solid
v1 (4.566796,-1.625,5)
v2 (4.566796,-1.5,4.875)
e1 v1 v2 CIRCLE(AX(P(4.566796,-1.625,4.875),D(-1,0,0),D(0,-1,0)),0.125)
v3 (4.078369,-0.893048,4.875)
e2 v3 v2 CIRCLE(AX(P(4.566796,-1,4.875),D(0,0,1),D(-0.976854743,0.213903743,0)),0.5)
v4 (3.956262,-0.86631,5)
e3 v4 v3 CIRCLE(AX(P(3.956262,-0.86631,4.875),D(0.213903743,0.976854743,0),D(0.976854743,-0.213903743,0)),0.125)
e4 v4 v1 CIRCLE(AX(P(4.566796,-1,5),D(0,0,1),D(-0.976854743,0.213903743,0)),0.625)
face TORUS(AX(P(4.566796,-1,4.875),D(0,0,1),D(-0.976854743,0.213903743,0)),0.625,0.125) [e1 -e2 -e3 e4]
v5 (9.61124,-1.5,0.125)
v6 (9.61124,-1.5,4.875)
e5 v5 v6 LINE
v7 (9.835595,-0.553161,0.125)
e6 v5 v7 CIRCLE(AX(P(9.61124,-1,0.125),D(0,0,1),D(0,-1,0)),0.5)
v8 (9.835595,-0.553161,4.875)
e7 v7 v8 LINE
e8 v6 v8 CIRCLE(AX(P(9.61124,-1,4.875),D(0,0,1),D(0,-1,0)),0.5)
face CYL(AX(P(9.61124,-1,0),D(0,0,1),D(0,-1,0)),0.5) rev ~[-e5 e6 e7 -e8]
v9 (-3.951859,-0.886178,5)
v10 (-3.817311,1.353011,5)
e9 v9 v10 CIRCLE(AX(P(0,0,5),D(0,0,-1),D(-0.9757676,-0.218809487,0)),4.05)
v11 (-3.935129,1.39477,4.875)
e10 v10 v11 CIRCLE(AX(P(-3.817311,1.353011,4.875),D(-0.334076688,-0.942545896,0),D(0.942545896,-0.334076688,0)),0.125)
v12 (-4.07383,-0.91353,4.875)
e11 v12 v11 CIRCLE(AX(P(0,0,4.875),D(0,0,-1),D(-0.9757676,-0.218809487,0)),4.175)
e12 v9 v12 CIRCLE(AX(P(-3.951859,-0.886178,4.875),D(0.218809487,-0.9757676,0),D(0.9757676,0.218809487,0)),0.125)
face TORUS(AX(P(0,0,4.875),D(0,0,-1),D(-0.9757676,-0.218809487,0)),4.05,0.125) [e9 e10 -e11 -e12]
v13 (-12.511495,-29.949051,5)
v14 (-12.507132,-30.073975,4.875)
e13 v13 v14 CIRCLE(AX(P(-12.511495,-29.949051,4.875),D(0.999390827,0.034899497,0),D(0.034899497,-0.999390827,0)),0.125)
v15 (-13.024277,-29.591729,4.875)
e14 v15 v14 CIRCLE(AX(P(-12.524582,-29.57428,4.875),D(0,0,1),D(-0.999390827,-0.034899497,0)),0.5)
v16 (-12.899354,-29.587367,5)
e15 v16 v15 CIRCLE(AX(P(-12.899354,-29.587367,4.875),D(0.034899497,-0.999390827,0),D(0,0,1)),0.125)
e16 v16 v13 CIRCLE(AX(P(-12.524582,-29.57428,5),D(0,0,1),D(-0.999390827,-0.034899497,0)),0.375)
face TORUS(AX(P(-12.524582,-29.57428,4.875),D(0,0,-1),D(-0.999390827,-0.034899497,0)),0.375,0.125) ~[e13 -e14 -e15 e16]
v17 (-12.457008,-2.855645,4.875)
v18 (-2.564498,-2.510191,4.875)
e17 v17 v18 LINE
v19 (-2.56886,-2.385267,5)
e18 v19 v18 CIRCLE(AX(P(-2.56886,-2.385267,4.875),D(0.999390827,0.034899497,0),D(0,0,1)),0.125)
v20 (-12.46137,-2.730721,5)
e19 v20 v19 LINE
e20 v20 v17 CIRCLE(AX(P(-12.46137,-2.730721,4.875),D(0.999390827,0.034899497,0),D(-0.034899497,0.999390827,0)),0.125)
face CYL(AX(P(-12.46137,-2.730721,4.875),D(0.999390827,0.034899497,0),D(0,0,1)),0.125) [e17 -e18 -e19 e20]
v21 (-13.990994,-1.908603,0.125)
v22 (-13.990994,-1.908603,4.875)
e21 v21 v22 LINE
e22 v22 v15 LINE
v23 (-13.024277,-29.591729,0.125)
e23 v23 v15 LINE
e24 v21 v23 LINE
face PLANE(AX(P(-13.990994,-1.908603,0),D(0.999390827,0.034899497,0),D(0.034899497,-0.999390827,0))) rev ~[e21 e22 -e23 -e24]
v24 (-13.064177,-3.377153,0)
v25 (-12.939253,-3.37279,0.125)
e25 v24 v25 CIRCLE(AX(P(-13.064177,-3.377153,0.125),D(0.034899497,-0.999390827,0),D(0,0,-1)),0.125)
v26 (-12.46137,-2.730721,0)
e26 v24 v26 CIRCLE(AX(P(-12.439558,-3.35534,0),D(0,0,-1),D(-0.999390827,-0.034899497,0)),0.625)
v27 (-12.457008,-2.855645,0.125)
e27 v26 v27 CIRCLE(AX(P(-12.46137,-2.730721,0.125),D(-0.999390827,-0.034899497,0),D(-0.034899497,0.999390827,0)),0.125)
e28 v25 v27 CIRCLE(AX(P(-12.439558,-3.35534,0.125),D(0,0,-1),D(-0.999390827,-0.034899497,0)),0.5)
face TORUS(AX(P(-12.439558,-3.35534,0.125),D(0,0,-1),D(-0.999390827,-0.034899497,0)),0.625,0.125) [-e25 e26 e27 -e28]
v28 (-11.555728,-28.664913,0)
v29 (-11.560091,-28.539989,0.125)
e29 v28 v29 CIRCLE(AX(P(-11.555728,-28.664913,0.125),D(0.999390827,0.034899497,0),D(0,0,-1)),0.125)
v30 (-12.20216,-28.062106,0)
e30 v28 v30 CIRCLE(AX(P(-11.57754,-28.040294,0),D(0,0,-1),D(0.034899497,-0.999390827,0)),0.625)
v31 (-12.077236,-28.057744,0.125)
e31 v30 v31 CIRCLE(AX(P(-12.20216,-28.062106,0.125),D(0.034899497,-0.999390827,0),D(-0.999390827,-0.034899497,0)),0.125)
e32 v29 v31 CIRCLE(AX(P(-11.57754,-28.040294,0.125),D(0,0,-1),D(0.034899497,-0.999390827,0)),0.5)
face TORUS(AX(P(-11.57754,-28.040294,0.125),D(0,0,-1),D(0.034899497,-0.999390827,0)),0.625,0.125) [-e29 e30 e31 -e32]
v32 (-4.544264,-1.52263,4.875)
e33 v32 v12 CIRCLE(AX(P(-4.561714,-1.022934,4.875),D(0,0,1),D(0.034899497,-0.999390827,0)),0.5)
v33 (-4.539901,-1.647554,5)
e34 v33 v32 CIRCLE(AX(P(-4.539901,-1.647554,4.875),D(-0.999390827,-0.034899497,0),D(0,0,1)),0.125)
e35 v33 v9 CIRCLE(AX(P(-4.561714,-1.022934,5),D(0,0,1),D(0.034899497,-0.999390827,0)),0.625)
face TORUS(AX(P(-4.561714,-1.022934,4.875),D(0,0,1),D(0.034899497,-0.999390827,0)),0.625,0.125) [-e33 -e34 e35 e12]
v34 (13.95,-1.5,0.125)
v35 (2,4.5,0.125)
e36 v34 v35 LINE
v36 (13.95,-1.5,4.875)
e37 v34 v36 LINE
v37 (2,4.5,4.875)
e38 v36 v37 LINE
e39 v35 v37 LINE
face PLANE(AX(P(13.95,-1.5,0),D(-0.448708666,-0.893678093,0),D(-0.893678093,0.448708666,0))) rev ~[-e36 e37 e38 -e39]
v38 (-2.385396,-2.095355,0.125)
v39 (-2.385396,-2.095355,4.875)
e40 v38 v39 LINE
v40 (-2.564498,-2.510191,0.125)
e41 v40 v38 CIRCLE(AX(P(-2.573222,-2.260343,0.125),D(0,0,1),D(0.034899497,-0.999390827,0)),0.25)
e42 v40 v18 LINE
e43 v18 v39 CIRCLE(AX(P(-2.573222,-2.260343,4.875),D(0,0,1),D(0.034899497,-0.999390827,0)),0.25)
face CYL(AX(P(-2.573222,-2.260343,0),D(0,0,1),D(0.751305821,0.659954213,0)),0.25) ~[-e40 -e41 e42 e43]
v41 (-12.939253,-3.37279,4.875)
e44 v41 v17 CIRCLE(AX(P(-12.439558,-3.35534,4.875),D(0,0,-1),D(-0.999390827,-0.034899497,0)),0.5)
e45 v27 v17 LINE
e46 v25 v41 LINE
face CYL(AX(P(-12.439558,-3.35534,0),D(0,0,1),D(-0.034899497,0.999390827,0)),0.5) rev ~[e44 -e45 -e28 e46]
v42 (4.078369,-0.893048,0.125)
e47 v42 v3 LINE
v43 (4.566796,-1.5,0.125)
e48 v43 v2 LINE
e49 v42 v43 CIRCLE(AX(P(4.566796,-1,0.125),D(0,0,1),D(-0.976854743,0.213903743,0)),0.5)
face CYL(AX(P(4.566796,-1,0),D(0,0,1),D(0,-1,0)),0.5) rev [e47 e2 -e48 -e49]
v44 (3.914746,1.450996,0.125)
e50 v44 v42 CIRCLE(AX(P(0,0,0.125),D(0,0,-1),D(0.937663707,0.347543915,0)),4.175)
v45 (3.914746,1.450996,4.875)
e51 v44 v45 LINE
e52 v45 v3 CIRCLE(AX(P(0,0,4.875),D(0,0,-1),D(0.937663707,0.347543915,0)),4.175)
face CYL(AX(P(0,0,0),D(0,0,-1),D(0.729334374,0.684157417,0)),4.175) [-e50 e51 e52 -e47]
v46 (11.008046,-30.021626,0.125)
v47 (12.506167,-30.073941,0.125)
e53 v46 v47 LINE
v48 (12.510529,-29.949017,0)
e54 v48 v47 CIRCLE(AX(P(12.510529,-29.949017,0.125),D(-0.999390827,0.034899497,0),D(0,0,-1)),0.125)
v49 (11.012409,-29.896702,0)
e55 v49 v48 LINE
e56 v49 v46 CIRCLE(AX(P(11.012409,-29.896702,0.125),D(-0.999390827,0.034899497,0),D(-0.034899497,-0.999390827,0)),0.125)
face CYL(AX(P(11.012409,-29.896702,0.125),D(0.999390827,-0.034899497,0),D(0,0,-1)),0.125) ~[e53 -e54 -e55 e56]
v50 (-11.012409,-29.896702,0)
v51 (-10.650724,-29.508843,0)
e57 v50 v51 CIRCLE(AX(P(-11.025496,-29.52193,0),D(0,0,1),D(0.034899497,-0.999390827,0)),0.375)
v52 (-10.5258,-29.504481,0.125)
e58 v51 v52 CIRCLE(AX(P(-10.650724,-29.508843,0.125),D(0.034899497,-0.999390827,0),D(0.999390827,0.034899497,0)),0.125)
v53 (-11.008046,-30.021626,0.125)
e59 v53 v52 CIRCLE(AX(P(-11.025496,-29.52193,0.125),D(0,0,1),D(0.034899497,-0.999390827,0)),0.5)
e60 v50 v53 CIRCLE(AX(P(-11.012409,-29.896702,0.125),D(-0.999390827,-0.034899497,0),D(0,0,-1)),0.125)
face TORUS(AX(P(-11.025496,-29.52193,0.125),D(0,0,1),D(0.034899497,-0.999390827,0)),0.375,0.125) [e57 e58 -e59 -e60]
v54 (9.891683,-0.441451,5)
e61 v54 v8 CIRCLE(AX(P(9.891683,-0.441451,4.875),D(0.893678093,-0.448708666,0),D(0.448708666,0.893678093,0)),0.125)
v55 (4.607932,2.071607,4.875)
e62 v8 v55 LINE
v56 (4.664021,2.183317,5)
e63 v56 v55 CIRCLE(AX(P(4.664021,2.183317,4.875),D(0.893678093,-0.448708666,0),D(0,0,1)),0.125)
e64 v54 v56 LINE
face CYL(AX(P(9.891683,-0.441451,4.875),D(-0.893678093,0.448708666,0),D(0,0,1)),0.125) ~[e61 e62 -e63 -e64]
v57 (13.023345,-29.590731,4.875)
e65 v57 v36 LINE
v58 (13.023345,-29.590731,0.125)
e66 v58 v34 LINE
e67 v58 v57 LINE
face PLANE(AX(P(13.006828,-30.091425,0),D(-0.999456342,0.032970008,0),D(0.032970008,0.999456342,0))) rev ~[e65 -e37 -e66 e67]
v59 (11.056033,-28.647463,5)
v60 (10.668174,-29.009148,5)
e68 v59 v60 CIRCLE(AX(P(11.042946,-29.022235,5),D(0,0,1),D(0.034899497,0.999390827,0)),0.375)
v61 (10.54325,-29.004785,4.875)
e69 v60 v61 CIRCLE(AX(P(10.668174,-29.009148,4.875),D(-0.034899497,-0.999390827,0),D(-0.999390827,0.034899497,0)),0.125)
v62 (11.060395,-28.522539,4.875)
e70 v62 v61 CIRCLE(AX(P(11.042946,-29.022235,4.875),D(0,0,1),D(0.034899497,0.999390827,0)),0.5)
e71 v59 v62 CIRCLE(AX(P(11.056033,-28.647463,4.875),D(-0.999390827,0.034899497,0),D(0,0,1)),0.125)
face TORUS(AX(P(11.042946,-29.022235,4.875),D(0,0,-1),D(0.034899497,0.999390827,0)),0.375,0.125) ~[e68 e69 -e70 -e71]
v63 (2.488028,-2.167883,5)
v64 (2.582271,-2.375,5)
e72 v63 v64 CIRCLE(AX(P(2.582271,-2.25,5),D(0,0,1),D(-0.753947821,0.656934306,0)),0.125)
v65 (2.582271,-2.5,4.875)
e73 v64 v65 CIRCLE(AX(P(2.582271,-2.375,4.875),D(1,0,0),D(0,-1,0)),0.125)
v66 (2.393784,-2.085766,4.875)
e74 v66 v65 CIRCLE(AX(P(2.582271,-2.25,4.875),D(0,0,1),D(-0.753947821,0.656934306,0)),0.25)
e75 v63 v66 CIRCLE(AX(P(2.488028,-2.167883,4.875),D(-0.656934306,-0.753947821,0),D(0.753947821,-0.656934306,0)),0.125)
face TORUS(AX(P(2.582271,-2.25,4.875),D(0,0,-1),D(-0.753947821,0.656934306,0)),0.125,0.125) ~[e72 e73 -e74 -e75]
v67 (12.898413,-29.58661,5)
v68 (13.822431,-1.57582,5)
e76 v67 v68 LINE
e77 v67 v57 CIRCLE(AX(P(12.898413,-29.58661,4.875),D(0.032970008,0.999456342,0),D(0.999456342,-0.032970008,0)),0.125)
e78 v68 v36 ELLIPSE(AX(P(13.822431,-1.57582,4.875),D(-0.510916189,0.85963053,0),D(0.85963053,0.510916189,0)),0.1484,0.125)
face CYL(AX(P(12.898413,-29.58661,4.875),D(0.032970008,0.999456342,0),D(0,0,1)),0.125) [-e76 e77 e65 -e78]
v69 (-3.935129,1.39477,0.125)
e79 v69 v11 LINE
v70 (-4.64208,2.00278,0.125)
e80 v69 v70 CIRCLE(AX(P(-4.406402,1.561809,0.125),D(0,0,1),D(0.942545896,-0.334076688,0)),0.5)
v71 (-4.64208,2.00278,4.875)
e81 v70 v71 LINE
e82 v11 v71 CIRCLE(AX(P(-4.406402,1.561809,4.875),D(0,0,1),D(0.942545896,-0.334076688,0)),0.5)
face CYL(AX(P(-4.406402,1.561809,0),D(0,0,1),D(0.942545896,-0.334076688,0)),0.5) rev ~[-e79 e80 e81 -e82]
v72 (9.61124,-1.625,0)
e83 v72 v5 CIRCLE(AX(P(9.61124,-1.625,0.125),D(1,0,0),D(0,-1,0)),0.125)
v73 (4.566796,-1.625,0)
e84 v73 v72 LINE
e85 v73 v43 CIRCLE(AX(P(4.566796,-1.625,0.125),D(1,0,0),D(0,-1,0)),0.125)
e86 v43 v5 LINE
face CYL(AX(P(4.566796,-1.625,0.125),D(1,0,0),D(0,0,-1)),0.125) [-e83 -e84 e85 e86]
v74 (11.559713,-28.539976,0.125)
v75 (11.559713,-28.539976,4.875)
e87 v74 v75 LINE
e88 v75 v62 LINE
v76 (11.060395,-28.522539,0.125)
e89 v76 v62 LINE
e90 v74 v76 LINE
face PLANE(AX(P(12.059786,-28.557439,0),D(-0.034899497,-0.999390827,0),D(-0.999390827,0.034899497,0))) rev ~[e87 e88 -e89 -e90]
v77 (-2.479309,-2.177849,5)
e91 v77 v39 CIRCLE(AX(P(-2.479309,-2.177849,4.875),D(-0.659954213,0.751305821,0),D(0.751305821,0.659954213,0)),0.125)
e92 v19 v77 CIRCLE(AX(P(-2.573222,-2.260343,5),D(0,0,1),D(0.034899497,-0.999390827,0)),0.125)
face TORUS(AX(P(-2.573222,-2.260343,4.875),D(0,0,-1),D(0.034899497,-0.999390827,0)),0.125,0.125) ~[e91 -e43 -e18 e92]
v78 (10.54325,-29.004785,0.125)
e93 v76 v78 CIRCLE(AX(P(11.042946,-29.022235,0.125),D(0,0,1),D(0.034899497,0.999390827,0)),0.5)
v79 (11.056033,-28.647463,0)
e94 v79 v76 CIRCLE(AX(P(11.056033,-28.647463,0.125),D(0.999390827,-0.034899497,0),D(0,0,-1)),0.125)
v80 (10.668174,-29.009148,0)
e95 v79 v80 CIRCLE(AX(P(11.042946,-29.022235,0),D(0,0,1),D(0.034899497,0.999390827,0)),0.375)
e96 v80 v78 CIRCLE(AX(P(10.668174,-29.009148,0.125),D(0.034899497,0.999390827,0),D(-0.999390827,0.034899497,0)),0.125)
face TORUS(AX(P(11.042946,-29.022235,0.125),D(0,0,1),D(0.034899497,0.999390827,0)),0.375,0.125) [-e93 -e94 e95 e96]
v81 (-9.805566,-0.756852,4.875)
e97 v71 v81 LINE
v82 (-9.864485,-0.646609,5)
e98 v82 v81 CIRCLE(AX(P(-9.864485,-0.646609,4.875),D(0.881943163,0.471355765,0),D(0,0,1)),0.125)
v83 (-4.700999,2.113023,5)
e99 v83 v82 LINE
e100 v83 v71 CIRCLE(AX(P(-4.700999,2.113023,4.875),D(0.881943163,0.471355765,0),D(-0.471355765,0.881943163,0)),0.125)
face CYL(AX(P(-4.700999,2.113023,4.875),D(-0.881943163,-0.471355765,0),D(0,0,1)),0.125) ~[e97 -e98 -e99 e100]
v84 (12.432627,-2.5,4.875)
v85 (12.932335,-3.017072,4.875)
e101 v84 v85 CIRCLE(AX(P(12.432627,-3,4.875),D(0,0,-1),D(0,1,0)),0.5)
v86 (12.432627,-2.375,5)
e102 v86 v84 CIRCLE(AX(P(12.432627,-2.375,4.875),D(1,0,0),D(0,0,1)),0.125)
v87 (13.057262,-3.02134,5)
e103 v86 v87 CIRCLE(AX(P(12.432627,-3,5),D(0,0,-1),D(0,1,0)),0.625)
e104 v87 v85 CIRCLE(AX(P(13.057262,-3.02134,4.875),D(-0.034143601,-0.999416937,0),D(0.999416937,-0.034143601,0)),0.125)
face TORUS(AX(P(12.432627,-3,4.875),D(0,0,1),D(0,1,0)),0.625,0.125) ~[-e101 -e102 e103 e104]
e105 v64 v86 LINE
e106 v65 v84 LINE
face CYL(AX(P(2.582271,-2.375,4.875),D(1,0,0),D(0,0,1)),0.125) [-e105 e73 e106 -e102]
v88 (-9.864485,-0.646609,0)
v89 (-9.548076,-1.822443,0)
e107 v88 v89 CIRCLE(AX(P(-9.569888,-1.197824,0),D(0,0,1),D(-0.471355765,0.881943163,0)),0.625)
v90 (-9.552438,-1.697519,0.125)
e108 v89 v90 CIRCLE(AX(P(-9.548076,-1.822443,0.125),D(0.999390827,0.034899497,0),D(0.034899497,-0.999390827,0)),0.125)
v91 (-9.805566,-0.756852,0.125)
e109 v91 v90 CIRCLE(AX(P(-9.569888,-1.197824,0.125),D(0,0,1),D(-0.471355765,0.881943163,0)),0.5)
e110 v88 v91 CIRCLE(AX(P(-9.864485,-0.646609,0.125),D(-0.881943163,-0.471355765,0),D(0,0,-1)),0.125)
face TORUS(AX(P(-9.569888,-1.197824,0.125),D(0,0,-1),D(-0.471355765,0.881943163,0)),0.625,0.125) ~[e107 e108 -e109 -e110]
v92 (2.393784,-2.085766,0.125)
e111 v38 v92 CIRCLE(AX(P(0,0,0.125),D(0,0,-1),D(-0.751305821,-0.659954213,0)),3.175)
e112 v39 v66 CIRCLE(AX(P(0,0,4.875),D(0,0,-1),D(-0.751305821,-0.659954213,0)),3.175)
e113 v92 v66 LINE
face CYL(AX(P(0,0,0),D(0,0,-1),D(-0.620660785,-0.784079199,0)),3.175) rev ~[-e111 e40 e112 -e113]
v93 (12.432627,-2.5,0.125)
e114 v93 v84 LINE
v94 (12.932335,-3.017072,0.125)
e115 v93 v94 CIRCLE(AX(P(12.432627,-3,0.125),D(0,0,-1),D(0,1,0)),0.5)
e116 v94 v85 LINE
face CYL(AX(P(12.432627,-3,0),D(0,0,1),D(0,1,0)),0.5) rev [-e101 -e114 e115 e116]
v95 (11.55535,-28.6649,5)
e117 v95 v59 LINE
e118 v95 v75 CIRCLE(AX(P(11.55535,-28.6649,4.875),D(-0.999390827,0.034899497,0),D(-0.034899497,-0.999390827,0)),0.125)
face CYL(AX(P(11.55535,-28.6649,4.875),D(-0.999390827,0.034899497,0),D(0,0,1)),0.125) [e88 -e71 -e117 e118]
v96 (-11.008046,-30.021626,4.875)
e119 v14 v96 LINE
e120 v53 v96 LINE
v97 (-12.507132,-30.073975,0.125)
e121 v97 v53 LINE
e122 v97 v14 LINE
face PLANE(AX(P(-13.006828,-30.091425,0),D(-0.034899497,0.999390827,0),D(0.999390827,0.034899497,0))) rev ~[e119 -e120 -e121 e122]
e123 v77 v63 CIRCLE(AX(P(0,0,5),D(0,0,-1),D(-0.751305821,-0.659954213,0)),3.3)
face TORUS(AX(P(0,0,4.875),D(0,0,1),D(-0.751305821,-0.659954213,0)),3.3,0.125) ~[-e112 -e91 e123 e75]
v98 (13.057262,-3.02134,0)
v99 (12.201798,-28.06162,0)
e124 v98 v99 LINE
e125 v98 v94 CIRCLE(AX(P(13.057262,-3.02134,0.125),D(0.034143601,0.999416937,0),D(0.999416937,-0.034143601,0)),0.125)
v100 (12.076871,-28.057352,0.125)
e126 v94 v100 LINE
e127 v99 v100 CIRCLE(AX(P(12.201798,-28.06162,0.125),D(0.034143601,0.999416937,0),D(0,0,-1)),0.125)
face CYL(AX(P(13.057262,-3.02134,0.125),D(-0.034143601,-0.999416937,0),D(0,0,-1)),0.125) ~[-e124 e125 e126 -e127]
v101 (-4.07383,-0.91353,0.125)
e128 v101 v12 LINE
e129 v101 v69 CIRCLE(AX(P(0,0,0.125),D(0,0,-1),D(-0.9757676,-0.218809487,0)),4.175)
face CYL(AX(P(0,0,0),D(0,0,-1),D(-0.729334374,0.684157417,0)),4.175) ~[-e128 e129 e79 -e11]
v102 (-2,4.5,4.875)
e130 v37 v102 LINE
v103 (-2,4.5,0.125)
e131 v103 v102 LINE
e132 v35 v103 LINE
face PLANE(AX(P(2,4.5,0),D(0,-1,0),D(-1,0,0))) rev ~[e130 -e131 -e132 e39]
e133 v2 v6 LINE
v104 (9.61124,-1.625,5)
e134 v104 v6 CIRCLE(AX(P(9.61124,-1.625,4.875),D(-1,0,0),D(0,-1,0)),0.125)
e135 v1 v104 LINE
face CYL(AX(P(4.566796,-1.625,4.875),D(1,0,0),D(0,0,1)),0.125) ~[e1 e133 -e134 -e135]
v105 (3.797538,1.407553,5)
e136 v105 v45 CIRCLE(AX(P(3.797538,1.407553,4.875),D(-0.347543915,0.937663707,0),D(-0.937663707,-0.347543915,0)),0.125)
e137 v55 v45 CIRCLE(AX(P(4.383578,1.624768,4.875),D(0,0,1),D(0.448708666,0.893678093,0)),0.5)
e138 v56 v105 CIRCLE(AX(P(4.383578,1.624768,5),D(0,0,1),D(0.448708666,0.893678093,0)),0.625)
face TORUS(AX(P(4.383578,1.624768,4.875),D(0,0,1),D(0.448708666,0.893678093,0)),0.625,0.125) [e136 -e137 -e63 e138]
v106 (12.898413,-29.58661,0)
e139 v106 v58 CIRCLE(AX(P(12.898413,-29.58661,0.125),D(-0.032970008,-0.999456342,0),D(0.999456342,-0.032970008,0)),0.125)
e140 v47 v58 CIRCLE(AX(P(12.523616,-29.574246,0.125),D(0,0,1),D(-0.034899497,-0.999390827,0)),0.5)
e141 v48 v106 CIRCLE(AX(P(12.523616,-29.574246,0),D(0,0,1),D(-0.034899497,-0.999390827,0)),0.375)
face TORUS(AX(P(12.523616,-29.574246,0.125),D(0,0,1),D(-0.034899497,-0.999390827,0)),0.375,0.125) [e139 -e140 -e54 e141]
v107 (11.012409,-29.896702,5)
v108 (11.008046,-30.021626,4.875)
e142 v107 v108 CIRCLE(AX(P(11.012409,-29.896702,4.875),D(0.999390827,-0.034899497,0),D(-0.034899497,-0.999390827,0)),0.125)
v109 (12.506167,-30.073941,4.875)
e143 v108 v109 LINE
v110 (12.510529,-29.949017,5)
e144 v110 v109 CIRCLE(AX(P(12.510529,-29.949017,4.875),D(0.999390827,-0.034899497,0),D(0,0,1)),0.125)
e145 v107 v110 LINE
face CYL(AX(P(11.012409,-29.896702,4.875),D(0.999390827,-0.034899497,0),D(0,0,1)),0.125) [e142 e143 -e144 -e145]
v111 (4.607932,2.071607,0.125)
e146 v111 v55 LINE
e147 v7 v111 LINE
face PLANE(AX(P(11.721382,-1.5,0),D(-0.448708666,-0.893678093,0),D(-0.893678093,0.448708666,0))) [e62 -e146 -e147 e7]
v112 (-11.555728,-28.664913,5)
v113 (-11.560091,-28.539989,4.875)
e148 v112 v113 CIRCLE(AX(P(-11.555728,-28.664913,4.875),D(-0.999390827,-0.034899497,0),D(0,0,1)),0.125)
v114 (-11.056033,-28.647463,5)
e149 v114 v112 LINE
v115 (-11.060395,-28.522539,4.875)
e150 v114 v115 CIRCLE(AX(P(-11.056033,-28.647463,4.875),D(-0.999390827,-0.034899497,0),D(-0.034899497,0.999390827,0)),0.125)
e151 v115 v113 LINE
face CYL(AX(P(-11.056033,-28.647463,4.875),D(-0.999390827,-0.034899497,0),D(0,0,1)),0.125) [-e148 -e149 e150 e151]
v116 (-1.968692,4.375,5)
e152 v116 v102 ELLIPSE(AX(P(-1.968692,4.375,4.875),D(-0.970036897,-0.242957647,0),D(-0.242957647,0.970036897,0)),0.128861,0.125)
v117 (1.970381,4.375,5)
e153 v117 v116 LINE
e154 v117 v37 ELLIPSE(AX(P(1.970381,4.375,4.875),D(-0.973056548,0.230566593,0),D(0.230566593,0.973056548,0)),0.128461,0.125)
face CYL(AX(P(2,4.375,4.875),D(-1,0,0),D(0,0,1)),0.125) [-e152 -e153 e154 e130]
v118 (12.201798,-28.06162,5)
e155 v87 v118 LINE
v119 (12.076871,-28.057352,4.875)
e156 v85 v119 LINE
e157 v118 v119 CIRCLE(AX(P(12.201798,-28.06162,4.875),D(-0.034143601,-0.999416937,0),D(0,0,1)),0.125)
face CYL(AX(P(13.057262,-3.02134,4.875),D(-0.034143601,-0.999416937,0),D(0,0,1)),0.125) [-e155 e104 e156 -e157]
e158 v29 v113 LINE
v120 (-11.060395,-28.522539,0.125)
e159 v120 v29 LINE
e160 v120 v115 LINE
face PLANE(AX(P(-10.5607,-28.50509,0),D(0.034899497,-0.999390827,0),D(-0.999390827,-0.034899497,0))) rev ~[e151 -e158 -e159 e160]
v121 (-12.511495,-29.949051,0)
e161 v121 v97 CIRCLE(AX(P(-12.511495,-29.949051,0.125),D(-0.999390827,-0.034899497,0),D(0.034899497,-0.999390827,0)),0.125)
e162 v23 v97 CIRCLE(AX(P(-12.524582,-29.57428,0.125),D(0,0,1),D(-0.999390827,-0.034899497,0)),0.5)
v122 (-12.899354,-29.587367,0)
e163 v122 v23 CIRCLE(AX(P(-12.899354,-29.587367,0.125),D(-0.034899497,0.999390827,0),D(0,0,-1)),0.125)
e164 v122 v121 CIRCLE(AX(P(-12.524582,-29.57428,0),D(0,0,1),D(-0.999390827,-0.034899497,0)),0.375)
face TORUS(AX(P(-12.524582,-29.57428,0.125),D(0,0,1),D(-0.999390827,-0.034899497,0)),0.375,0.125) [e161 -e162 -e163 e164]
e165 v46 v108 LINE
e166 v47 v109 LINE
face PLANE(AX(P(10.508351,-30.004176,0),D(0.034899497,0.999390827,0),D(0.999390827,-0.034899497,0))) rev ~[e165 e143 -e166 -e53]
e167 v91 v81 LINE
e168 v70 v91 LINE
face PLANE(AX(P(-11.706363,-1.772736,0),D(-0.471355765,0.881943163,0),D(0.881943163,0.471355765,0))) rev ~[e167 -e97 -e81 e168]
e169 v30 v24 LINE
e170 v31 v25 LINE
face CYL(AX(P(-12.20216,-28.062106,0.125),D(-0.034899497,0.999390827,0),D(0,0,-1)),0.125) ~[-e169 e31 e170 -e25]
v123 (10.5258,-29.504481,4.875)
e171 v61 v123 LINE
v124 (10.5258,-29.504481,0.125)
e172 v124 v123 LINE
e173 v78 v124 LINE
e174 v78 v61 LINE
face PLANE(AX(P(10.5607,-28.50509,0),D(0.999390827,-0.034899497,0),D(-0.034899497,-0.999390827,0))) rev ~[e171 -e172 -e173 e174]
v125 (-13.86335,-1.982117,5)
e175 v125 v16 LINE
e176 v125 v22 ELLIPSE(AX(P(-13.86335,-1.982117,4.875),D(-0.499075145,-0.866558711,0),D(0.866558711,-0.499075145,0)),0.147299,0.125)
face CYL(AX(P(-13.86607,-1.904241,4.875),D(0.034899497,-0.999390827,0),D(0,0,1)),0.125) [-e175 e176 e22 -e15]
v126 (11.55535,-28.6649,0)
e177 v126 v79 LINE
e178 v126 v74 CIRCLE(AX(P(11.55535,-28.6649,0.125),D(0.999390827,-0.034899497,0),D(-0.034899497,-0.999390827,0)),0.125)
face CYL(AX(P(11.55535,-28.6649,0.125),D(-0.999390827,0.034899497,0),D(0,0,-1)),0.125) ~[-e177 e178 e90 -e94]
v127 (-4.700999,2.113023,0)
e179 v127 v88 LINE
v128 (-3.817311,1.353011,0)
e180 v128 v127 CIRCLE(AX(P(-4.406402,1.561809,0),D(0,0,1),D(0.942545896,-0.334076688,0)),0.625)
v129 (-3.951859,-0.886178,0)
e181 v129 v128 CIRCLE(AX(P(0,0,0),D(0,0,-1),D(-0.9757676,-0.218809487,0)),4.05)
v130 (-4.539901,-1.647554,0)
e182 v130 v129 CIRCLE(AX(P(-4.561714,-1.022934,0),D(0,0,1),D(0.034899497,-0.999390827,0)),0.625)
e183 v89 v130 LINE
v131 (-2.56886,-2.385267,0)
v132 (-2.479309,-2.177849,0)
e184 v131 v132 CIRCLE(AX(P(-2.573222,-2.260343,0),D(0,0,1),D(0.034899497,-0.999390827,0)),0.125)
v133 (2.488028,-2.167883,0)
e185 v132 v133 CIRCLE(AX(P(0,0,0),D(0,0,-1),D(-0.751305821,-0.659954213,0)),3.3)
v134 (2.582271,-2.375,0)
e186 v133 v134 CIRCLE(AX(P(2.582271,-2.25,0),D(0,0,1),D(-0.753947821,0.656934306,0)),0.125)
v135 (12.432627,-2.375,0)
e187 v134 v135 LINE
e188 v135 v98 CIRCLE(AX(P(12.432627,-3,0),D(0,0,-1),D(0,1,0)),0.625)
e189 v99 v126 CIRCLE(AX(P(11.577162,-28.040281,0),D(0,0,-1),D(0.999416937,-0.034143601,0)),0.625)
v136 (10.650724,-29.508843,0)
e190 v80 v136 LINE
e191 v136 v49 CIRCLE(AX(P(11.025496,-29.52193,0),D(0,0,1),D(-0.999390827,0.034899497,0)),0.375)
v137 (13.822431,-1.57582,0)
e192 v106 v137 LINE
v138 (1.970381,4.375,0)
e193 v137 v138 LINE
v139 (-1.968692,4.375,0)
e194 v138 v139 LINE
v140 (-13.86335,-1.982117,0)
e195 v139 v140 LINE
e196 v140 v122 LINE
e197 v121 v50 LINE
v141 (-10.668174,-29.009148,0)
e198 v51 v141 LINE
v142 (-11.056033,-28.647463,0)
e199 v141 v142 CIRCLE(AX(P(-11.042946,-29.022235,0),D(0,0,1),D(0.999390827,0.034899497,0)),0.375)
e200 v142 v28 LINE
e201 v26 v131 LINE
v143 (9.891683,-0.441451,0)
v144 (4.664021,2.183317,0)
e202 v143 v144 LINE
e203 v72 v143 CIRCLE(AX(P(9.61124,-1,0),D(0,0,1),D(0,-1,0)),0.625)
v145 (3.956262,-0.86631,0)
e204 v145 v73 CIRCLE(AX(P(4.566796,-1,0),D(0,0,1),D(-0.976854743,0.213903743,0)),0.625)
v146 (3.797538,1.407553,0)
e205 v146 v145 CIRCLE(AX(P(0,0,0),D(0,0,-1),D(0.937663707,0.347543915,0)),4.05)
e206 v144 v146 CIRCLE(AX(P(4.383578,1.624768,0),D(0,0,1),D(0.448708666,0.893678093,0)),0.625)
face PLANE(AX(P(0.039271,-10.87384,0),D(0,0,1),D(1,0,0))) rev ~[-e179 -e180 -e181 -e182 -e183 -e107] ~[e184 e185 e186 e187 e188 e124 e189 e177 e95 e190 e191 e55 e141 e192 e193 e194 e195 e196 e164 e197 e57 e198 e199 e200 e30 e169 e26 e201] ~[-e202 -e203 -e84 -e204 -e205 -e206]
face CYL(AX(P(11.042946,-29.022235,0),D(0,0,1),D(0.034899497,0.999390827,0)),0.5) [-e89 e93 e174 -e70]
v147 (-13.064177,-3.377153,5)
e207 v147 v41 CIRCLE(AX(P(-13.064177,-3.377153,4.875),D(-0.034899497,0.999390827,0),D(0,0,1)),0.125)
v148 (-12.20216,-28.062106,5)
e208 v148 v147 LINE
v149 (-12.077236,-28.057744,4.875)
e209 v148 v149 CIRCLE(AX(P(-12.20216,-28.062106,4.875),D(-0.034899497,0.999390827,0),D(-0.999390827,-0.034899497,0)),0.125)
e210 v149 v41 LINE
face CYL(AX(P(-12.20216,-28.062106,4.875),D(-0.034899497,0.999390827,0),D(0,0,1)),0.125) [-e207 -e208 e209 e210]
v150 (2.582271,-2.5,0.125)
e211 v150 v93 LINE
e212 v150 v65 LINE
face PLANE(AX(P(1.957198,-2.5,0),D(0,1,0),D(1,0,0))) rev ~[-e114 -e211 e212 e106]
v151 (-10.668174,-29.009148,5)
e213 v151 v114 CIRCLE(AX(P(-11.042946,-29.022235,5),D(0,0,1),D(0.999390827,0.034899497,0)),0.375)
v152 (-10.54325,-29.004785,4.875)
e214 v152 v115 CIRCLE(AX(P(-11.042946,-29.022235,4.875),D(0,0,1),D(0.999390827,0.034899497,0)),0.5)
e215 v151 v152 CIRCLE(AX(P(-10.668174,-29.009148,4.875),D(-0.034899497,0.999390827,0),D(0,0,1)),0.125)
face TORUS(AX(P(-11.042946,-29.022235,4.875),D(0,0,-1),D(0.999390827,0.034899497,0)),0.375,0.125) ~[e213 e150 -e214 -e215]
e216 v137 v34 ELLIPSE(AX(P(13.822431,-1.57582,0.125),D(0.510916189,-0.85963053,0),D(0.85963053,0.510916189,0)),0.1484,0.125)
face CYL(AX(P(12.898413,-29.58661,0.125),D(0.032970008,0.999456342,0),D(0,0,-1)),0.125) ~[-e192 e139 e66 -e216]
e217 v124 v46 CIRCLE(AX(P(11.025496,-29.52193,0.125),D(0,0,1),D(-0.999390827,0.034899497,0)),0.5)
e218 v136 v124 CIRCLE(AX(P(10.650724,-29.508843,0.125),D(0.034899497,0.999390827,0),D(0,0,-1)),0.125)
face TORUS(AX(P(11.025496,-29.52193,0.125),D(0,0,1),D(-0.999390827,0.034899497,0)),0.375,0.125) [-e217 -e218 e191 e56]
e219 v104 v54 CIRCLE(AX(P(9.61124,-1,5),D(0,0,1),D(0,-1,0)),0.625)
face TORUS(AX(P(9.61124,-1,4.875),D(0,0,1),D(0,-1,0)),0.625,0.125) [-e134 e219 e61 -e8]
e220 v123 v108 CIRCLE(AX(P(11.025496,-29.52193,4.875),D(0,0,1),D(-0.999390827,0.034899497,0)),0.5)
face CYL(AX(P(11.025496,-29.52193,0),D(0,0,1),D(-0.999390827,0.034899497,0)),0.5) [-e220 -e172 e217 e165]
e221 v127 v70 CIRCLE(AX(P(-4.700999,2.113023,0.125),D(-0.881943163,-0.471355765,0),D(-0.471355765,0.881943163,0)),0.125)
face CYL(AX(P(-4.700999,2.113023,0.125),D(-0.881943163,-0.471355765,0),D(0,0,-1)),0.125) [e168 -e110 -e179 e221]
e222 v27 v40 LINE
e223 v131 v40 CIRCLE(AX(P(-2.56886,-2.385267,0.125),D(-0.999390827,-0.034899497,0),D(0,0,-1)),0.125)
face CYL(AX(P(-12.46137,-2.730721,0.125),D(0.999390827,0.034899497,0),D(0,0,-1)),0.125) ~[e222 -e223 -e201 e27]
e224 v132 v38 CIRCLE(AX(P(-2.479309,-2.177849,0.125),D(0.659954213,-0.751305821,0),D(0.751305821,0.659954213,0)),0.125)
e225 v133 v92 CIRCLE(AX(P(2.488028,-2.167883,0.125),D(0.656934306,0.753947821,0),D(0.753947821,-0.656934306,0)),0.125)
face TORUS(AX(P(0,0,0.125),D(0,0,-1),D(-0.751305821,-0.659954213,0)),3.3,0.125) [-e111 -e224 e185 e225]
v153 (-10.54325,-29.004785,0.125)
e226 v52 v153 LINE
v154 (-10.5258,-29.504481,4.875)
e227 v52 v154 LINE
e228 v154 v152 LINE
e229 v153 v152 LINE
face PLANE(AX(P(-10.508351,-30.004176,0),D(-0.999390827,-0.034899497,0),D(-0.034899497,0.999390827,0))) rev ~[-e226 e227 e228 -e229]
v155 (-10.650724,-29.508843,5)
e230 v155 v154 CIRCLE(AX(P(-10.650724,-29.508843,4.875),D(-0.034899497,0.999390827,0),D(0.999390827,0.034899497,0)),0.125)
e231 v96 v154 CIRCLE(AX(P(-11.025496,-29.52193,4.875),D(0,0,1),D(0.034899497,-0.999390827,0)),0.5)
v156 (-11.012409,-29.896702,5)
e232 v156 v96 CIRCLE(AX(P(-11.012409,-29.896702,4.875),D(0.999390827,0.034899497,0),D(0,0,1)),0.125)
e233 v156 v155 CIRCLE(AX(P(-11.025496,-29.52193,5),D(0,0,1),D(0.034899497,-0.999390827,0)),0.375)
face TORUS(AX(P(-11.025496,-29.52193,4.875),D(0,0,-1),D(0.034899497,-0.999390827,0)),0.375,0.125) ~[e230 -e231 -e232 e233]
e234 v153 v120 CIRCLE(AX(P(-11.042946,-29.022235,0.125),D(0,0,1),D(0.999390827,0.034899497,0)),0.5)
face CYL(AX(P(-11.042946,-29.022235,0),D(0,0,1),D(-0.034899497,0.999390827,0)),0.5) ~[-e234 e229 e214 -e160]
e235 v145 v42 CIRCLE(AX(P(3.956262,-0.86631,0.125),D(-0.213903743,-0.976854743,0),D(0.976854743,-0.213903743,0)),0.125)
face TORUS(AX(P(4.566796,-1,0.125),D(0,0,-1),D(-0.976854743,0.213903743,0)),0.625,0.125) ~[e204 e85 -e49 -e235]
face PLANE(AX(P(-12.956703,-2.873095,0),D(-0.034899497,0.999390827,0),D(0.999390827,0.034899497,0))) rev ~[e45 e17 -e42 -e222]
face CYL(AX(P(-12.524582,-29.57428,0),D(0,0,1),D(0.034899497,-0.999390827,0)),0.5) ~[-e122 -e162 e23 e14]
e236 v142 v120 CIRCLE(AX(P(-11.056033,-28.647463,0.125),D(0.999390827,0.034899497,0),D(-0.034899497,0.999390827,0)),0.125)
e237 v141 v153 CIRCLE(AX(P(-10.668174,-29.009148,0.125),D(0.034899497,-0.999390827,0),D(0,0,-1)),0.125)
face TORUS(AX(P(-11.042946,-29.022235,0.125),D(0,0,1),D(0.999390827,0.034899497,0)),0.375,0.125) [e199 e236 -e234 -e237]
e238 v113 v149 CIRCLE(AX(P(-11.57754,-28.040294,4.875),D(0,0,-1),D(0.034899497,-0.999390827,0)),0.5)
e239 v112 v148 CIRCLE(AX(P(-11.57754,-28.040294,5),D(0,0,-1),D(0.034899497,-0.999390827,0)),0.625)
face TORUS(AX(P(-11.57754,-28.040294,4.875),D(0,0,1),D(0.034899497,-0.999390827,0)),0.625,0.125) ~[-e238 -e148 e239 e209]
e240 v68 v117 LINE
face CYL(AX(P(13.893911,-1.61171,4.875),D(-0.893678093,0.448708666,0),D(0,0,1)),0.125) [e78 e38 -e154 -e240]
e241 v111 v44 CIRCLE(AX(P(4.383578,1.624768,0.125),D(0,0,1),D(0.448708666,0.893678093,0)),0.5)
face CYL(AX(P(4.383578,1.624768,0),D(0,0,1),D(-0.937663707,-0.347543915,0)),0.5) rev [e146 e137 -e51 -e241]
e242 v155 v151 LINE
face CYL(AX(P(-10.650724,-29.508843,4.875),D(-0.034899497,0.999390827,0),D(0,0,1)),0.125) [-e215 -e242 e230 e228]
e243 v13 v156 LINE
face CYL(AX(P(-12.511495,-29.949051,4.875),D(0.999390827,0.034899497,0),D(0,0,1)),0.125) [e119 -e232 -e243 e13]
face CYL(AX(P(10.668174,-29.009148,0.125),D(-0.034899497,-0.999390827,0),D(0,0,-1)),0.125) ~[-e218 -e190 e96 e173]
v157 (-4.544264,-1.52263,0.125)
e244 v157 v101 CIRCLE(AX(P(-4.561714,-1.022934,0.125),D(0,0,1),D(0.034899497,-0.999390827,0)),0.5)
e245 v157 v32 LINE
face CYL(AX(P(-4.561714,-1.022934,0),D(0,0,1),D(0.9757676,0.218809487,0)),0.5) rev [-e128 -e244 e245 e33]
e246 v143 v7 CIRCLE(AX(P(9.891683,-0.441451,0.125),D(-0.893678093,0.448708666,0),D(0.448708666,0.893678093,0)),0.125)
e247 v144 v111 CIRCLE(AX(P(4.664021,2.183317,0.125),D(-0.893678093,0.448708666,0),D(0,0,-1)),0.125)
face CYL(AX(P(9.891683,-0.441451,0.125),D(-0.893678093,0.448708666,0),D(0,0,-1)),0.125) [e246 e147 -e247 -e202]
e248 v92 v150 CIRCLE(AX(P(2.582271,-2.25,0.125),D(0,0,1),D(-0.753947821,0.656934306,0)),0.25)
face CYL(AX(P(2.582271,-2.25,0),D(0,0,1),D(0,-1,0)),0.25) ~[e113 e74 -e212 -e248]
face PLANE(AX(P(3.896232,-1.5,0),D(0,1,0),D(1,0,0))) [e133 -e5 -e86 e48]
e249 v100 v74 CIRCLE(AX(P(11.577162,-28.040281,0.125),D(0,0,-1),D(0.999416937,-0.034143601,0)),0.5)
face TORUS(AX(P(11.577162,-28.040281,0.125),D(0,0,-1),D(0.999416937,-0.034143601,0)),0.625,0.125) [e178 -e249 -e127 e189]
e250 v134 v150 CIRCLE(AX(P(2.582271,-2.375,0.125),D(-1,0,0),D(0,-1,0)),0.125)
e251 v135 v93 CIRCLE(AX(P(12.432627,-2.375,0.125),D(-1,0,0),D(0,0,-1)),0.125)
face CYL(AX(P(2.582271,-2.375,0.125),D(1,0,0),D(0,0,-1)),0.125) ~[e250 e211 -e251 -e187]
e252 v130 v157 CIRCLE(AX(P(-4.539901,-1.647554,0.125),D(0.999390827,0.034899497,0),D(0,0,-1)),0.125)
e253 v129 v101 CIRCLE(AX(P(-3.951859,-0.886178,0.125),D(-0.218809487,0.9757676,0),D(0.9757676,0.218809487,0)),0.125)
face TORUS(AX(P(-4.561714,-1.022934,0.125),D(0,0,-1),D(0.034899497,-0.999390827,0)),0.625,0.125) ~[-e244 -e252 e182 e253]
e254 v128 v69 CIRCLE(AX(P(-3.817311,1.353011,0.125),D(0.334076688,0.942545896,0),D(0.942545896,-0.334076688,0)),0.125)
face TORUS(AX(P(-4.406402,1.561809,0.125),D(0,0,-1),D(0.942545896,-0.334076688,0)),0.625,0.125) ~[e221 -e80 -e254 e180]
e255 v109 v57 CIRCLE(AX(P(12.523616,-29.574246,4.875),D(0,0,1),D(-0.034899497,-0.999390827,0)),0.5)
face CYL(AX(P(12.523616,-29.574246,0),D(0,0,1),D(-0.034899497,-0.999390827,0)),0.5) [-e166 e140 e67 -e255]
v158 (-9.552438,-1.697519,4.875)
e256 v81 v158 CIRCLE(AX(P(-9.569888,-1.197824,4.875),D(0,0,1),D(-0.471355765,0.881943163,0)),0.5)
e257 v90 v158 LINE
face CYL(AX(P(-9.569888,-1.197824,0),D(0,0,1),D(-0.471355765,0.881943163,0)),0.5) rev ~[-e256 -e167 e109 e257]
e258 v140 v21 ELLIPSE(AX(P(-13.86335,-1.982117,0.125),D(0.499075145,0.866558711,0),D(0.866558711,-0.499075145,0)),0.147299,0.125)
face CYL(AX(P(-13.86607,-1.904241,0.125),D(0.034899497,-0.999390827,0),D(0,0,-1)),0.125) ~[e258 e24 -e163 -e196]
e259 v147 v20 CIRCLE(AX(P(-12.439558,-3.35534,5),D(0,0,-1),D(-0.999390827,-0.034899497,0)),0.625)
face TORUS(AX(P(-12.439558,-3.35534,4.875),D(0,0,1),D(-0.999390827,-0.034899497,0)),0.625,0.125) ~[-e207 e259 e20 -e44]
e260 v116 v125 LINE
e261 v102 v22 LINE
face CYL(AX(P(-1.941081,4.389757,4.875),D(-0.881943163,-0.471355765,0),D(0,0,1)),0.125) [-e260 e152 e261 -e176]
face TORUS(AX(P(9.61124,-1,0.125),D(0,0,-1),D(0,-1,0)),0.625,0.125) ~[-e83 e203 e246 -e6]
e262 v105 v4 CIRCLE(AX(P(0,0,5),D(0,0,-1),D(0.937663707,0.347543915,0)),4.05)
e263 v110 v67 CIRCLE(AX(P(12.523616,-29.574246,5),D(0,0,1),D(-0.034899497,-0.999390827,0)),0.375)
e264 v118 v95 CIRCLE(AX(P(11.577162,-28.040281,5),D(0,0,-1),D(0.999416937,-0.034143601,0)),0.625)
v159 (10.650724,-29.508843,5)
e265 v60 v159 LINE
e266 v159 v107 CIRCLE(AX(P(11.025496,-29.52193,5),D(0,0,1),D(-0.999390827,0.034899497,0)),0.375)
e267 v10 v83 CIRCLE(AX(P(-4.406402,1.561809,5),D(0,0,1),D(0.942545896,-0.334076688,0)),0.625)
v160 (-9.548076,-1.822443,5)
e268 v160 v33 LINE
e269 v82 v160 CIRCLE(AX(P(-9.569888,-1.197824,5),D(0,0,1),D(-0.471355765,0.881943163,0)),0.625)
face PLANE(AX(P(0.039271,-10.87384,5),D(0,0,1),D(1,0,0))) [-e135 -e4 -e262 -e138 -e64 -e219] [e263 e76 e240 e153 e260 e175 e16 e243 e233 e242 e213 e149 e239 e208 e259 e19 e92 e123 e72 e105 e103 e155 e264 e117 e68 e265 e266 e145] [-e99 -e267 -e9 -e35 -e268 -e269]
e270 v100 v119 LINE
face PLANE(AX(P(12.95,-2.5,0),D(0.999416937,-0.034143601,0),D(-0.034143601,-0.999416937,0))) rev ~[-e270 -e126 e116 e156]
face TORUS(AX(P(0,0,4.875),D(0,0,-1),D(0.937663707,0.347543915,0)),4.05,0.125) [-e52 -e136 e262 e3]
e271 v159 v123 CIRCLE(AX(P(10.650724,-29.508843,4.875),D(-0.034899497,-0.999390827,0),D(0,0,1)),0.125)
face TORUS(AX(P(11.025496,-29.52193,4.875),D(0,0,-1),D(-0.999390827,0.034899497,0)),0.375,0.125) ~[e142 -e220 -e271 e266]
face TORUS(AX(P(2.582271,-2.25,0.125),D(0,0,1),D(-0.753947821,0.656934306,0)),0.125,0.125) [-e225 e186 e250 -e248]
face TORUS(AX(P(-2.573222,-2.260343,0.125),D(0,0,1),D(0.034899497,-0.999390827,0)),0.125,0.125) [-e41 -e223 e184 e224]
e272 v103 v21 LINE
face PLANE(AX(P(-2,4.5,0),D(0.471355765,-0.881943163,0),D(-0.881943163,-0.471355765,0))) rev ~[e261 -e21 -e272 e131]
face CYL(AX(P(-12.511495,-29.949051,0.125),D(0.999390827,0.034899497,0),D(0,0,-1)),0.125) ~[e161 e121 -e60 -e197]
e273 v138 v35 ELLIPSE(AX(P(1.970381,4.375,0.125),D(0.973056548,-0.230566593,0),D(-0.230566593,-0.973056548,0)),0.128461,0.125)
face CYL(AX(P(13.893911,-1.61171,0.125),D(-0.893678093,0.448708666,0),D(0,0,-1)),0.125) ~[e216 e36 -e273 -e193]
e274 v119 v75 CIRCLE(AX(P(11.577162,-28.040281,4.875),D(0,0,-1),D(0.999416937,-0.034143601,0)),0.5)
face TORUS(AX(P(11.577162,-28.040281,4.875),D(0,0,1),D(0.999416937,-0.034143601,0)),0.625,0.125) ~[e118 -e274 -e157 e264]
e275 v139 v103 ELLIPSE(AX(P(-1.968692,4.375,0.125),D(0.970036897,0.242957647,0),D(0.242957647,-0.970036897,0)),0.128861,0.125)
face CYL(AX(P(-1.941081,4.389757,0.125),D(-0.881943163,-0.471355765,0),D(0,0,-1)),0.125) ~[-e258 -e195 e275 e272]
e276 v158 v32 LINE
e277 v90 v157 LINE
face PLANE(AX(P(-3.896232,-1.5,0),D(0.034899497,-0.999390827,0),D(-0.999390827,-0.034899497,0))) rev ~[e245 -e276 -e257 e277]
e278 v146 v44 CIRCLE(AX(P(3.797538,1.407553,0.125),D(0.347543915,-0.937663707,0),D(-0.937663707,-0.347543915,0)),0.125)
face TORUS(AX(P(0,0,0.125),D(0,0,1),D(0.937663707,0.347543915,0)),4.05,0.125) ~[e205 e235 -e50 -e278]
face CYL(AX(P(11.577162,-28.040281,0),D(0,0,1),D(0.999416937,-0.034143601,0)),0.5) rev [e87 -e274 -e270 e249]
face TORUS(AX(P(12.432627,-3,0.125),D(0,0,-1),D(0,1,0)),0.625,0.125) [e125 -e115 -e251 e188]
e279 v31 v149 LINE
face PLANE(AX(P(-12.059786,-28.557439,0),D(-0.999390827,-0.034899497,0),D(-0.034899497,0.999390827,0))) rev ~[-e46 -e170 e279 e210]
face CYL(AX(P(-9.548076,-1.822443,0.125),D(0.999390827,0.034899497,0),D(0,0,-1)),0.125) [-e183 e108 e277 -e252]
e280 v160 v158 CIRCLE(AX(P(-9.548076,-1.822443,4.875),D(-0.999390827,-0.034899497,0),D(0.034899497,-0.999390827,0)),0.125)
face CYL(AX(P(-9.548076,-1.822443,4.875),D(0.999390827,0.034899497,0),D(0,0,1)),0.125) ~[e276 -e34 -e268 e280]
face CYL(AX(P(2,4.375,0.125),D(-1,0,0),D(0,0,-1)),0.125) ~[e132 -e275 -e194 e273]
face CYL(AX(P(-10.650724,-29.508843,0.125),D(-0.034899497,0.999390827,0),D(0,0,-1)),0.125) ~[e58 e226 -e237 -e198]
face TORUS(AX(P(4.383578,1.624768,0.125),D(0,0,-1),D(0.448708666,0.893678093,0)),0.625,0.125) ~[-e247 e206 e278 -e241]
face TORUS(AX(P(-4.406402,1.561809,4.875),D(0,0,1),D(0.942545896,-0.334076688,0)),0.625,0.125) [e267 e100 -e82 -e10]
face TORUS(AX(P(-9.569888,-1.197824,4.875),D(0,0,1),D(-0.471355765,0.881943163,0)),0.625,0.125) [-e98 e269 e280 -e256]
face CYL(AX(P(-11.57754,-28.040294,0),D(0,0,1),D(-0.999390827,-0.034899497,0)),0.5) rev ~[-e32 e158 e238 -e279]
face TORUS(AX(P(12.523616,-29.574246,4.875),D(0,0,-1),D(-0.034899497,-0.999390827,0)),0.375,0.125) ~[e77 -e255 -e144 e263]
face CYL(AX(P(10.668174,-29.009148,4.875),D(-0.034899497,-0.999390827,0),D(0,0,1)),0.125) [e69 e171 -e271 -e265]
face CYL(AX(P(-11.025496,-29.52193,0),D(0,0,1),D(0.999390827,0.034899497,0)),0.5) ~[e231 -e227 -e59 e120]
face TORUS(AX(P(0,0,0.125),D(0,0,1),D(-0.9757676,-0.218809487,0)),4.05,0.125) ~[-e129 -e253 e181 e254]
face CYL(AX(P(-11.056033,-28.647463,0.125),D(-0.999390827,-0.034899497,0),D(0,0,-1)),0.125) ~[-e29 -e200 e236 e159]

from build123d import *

# Parameters (mm, degrees)
BOSS_EXTRUDE1_DEPTH = 5
FILLET1_R           = 0.5
FILLET2_R           = 0.25
FILLET3_R           = 0.125


with BuildPart() as part:
    # Sketch1 → Boss-Extrude1 (new body)
    with BuildSketch(Plane.XY):
        with BuildLine():
            Line((1.957198253, -2.5), (12.950000003, -2.5))
            Line((12.950000003, -2.5), (12.059786159, -28.557438959))
            Line((12.059786159, -28.557438959), (10.560699918, -28.505089714))
            Line((10.560699918, -28.505089714), (10.508350673, -30.004175955))
            Line((10.508350673, -30.004175955), (13.006827741, -30.091424697))
            Line((13.006827741, -30.091424697), (13.950000003, -1.5))
            Line((13.950000003, -1.5), (2, 4.5))
            Line((2, 4.5), (0, 4.5))
            Line((0, 4.5), (-2, 4.5))
            Line((-2, 4.5), (-13.990993548, -1.908603375))
            Line((-13.990993548, -1.908603375), (-13.006827741, -30.091424697))
            Line((-13.006827741, -30.091424697), (-10.508350673, -30.004175955))
            Line((-10.508350673, -30.004175955), (-10.560699918, -28.505089714))
            Line((-10.560699918, -28.505089714), (-12.059786159, -28.557438959))
            Line((-12.059786159, -28.557438959), (-12.956703224, -2.873094705))
            Line((-12.956703224, -2.873094705), (-1.970597992, -2.489451457))
            ThreePointArc((-1.970597992, -2.489451457), (0.008526793, 3.17498855), (1.957198253, -2.5))
        make_face()
        with BuildLine():
            Line((3.896232154, -1.5), (11.721382469, -1.5))
            Line((11.721382469, -1.5), (3.04497101, 2.856357217))
            ThreePointArc((3.04497101, 2.856357217), (4.0975038, 0.800679467), (3.896232154, -1.5))
        make_face(mode=Mode.SUBTRACT)
        with BuildLine():
            Line((-3.896232154, -1.5), (-11.706362717, -1.772735769))
            Line((-11.706362717, -1.772735769), (-3.04497101, 2.856357217))
            ThreePointArc((-3.04497101, 2.856357217), (-4.0975038, 0.800679467), (-3.896232154, -1.5))
        make_face(mode=Mode.SUBTRACT)
    extrude(amount=BOSS_EXTRUDE1_DEPTH)

    # Fillet1
    fillet1_edges = [part.edges().sort_by_distance(p)[0] for p in [
        (11.721382469, -1.5, 2.5),
        (3.04497101, 2.856357217, 2.5),
        (3.896232154, -1.5, 2.5),
        (-11.706362717, -1.772735769, 2.5),
        (-3.896232154, -1.5, 2.5),
        (-3.04497101, 2.856357217, 2.5),
        (-12.956703224, -2.873094705, 2.5),
        (-12.059786159, -28.557438959, 2.5),
        (-10.560699918, -28.505089714, 2.5),
        (-10.508350673, -30.004175955, 2.5),
        (-13.006827741, -30.091424697, 2.5),
        (13.006827741, -30.091424697, 2.5),
        (10.508350673, -30.004175955, 2.5),
        (10.560699918, -28.505089714, 2.5),
        (12.059786159, -28.557438959, 2.5),
        (12.950000003, -2.5, 2.5),
    ]]
    fillet(fillet1_edges, radius=FILLET1_R)

    # Fillet2
    fillet2_edges = [part.edges().sort_by_distance(p)[0] for p in [
        (-1.970597992, -2.489451457, 2.5),
        (1.957198253, -2.5, 2.5),
    ]]
    fillet(fillet2_edges, radius=FILLET2_R)

    # Fillet3
    fillet3_edges = [part.edges().sort_by_distance(p)[0] for p in [
        (11.918299852, -28.405828462, 0),
        (11.918299852, -28.405828462, 5),
        (12.792165065, -2.652534822, 0),
        (12.792165065, -2.652534822, 5),
        (-11.918539674, -28.405970648, 0),
        (-11.918539674, -28.405970648, 5),
        (-12.805234913, -3.01434119, 0),
        (-12.805234913, -3.01434119, 5),
        (-4.080372502, 1.940892575, 0),
        (-4.080372502, 1.940892575, 5),
        (-4.165997407, -1.328562802, 0),
        (-4.165997407, -1.328562802, 5),
        (-10.052712176, -1.327748706, 0),
        (-10.052712176, -1.327748706, 5),
        (10.097768642, -1.115283296, 0),
        (10.097768642, -1.115283296, 5),
        (4.050063484, 1.997283815, 0),
        (4.050063484, 1.997283815, 5),
        (4.177260343, -1.313467753, 0),
        (4.177260343, -1.313467753, 5),
        (7.507448914, -2.5, 0),
        (7.507448914, -2.5, 5),
        (-0.006369813, 3.17499361, 0),
        (-7.510752686, -2.682917922, 0),
        (-2.343700353, -2.359437141, 0),
        (2.35472086, -2.35354131, 0),
        (-0.006369813, 3.17499361, 5),
        (-7.510752686, -2.682917922, 5),
        (-2.343700353, -2.359437141, 5),
        (2.35472086, -2.35354131, 5),
        (-7.995496774, 1.295698313, 0),
        (0, 4.5, 0),
        (7.975000001, 1.5, 0),
        (7.975000001, 1.5, 5),
        (0, 4.5, 5),
        (-7.995496774, 1.295698313, 5),
        (11.310053995, -28.531257735, 0),
        (11.310053995, -28.531257735, 5),
        (12.504602943, -15.537212098, 0),
        (12.504602943, -15.537212098, 5),
        (13.486672302, -15.545365409, 0),
        (13.486672302, -15.545365409, 5),
        (-12.508244691, -15.715266832, 0),
        (-11.310243038, -28.531264337, 0),
        (-10.534525296, -29.254632835, 0),
        (-11.757589207, -30.047800326, 0),
        (-13.507635518, -15.750166329, 0),
        (11.757106384, -30.047783465, 0),
        (10.534525296, -29.254632835, 0),
        (-7.223822763, 0.622964017, 0),
        (-7.048350864, -1.610074411, 0),
        (-4.167483343, 0.250414827, 0),
        (7.089018145, -1.5, 0),
        (7.221763432, 0.759222947, 0),
        (4.164865604, 0.290722376, 0),
        (-10.701946403, -28.656558025, 0),
        (-10.659818984, -29.86292947, 0),
        (-12.865581255, -29.939956386, 0),
        (10.701946403, -28.656558025, 0),
        (10.659818984, -29.86292947, 0),
        (12.86496844, -29.939593328, 0),
        (11.757106384, -30.047783465, 5),
        (10.534525296, -29.254632835, 5),
        (-13.507635518, -15.750166329, 5),
        (-11.757589207, -30.047800326, 5),
        (-10.534525296, -29.254632835, 5),
        (-11.310243038, -28.531264337, 5),
        (-12.508244691, -15.715266832, 5),
        (-7.223822763, 0.622964017, 5),
        (-4.167483343, 0.250414827, 5),
        (-7.048350864, -1.610074411, 5),
        (7.089018145, -1.5, 5),
        (4.164865604, 0.290722376, 5),
        (7.221763432, 0.759222947, 5),
        (-10.701946403, -28.656558025, 5),
        (-10.659818984, -29.86292947, 5),
        (-12.865581255, -29.939956386, 5),
        (10.701946403, -28.656558025, 5),
        (10.659818984, -29.86292947, 5),
        (12.86496844, -29.939593328, 5),
    ]]
    fillet(fillet3_edges, radius=FILLET3_R)


solid = part.part
